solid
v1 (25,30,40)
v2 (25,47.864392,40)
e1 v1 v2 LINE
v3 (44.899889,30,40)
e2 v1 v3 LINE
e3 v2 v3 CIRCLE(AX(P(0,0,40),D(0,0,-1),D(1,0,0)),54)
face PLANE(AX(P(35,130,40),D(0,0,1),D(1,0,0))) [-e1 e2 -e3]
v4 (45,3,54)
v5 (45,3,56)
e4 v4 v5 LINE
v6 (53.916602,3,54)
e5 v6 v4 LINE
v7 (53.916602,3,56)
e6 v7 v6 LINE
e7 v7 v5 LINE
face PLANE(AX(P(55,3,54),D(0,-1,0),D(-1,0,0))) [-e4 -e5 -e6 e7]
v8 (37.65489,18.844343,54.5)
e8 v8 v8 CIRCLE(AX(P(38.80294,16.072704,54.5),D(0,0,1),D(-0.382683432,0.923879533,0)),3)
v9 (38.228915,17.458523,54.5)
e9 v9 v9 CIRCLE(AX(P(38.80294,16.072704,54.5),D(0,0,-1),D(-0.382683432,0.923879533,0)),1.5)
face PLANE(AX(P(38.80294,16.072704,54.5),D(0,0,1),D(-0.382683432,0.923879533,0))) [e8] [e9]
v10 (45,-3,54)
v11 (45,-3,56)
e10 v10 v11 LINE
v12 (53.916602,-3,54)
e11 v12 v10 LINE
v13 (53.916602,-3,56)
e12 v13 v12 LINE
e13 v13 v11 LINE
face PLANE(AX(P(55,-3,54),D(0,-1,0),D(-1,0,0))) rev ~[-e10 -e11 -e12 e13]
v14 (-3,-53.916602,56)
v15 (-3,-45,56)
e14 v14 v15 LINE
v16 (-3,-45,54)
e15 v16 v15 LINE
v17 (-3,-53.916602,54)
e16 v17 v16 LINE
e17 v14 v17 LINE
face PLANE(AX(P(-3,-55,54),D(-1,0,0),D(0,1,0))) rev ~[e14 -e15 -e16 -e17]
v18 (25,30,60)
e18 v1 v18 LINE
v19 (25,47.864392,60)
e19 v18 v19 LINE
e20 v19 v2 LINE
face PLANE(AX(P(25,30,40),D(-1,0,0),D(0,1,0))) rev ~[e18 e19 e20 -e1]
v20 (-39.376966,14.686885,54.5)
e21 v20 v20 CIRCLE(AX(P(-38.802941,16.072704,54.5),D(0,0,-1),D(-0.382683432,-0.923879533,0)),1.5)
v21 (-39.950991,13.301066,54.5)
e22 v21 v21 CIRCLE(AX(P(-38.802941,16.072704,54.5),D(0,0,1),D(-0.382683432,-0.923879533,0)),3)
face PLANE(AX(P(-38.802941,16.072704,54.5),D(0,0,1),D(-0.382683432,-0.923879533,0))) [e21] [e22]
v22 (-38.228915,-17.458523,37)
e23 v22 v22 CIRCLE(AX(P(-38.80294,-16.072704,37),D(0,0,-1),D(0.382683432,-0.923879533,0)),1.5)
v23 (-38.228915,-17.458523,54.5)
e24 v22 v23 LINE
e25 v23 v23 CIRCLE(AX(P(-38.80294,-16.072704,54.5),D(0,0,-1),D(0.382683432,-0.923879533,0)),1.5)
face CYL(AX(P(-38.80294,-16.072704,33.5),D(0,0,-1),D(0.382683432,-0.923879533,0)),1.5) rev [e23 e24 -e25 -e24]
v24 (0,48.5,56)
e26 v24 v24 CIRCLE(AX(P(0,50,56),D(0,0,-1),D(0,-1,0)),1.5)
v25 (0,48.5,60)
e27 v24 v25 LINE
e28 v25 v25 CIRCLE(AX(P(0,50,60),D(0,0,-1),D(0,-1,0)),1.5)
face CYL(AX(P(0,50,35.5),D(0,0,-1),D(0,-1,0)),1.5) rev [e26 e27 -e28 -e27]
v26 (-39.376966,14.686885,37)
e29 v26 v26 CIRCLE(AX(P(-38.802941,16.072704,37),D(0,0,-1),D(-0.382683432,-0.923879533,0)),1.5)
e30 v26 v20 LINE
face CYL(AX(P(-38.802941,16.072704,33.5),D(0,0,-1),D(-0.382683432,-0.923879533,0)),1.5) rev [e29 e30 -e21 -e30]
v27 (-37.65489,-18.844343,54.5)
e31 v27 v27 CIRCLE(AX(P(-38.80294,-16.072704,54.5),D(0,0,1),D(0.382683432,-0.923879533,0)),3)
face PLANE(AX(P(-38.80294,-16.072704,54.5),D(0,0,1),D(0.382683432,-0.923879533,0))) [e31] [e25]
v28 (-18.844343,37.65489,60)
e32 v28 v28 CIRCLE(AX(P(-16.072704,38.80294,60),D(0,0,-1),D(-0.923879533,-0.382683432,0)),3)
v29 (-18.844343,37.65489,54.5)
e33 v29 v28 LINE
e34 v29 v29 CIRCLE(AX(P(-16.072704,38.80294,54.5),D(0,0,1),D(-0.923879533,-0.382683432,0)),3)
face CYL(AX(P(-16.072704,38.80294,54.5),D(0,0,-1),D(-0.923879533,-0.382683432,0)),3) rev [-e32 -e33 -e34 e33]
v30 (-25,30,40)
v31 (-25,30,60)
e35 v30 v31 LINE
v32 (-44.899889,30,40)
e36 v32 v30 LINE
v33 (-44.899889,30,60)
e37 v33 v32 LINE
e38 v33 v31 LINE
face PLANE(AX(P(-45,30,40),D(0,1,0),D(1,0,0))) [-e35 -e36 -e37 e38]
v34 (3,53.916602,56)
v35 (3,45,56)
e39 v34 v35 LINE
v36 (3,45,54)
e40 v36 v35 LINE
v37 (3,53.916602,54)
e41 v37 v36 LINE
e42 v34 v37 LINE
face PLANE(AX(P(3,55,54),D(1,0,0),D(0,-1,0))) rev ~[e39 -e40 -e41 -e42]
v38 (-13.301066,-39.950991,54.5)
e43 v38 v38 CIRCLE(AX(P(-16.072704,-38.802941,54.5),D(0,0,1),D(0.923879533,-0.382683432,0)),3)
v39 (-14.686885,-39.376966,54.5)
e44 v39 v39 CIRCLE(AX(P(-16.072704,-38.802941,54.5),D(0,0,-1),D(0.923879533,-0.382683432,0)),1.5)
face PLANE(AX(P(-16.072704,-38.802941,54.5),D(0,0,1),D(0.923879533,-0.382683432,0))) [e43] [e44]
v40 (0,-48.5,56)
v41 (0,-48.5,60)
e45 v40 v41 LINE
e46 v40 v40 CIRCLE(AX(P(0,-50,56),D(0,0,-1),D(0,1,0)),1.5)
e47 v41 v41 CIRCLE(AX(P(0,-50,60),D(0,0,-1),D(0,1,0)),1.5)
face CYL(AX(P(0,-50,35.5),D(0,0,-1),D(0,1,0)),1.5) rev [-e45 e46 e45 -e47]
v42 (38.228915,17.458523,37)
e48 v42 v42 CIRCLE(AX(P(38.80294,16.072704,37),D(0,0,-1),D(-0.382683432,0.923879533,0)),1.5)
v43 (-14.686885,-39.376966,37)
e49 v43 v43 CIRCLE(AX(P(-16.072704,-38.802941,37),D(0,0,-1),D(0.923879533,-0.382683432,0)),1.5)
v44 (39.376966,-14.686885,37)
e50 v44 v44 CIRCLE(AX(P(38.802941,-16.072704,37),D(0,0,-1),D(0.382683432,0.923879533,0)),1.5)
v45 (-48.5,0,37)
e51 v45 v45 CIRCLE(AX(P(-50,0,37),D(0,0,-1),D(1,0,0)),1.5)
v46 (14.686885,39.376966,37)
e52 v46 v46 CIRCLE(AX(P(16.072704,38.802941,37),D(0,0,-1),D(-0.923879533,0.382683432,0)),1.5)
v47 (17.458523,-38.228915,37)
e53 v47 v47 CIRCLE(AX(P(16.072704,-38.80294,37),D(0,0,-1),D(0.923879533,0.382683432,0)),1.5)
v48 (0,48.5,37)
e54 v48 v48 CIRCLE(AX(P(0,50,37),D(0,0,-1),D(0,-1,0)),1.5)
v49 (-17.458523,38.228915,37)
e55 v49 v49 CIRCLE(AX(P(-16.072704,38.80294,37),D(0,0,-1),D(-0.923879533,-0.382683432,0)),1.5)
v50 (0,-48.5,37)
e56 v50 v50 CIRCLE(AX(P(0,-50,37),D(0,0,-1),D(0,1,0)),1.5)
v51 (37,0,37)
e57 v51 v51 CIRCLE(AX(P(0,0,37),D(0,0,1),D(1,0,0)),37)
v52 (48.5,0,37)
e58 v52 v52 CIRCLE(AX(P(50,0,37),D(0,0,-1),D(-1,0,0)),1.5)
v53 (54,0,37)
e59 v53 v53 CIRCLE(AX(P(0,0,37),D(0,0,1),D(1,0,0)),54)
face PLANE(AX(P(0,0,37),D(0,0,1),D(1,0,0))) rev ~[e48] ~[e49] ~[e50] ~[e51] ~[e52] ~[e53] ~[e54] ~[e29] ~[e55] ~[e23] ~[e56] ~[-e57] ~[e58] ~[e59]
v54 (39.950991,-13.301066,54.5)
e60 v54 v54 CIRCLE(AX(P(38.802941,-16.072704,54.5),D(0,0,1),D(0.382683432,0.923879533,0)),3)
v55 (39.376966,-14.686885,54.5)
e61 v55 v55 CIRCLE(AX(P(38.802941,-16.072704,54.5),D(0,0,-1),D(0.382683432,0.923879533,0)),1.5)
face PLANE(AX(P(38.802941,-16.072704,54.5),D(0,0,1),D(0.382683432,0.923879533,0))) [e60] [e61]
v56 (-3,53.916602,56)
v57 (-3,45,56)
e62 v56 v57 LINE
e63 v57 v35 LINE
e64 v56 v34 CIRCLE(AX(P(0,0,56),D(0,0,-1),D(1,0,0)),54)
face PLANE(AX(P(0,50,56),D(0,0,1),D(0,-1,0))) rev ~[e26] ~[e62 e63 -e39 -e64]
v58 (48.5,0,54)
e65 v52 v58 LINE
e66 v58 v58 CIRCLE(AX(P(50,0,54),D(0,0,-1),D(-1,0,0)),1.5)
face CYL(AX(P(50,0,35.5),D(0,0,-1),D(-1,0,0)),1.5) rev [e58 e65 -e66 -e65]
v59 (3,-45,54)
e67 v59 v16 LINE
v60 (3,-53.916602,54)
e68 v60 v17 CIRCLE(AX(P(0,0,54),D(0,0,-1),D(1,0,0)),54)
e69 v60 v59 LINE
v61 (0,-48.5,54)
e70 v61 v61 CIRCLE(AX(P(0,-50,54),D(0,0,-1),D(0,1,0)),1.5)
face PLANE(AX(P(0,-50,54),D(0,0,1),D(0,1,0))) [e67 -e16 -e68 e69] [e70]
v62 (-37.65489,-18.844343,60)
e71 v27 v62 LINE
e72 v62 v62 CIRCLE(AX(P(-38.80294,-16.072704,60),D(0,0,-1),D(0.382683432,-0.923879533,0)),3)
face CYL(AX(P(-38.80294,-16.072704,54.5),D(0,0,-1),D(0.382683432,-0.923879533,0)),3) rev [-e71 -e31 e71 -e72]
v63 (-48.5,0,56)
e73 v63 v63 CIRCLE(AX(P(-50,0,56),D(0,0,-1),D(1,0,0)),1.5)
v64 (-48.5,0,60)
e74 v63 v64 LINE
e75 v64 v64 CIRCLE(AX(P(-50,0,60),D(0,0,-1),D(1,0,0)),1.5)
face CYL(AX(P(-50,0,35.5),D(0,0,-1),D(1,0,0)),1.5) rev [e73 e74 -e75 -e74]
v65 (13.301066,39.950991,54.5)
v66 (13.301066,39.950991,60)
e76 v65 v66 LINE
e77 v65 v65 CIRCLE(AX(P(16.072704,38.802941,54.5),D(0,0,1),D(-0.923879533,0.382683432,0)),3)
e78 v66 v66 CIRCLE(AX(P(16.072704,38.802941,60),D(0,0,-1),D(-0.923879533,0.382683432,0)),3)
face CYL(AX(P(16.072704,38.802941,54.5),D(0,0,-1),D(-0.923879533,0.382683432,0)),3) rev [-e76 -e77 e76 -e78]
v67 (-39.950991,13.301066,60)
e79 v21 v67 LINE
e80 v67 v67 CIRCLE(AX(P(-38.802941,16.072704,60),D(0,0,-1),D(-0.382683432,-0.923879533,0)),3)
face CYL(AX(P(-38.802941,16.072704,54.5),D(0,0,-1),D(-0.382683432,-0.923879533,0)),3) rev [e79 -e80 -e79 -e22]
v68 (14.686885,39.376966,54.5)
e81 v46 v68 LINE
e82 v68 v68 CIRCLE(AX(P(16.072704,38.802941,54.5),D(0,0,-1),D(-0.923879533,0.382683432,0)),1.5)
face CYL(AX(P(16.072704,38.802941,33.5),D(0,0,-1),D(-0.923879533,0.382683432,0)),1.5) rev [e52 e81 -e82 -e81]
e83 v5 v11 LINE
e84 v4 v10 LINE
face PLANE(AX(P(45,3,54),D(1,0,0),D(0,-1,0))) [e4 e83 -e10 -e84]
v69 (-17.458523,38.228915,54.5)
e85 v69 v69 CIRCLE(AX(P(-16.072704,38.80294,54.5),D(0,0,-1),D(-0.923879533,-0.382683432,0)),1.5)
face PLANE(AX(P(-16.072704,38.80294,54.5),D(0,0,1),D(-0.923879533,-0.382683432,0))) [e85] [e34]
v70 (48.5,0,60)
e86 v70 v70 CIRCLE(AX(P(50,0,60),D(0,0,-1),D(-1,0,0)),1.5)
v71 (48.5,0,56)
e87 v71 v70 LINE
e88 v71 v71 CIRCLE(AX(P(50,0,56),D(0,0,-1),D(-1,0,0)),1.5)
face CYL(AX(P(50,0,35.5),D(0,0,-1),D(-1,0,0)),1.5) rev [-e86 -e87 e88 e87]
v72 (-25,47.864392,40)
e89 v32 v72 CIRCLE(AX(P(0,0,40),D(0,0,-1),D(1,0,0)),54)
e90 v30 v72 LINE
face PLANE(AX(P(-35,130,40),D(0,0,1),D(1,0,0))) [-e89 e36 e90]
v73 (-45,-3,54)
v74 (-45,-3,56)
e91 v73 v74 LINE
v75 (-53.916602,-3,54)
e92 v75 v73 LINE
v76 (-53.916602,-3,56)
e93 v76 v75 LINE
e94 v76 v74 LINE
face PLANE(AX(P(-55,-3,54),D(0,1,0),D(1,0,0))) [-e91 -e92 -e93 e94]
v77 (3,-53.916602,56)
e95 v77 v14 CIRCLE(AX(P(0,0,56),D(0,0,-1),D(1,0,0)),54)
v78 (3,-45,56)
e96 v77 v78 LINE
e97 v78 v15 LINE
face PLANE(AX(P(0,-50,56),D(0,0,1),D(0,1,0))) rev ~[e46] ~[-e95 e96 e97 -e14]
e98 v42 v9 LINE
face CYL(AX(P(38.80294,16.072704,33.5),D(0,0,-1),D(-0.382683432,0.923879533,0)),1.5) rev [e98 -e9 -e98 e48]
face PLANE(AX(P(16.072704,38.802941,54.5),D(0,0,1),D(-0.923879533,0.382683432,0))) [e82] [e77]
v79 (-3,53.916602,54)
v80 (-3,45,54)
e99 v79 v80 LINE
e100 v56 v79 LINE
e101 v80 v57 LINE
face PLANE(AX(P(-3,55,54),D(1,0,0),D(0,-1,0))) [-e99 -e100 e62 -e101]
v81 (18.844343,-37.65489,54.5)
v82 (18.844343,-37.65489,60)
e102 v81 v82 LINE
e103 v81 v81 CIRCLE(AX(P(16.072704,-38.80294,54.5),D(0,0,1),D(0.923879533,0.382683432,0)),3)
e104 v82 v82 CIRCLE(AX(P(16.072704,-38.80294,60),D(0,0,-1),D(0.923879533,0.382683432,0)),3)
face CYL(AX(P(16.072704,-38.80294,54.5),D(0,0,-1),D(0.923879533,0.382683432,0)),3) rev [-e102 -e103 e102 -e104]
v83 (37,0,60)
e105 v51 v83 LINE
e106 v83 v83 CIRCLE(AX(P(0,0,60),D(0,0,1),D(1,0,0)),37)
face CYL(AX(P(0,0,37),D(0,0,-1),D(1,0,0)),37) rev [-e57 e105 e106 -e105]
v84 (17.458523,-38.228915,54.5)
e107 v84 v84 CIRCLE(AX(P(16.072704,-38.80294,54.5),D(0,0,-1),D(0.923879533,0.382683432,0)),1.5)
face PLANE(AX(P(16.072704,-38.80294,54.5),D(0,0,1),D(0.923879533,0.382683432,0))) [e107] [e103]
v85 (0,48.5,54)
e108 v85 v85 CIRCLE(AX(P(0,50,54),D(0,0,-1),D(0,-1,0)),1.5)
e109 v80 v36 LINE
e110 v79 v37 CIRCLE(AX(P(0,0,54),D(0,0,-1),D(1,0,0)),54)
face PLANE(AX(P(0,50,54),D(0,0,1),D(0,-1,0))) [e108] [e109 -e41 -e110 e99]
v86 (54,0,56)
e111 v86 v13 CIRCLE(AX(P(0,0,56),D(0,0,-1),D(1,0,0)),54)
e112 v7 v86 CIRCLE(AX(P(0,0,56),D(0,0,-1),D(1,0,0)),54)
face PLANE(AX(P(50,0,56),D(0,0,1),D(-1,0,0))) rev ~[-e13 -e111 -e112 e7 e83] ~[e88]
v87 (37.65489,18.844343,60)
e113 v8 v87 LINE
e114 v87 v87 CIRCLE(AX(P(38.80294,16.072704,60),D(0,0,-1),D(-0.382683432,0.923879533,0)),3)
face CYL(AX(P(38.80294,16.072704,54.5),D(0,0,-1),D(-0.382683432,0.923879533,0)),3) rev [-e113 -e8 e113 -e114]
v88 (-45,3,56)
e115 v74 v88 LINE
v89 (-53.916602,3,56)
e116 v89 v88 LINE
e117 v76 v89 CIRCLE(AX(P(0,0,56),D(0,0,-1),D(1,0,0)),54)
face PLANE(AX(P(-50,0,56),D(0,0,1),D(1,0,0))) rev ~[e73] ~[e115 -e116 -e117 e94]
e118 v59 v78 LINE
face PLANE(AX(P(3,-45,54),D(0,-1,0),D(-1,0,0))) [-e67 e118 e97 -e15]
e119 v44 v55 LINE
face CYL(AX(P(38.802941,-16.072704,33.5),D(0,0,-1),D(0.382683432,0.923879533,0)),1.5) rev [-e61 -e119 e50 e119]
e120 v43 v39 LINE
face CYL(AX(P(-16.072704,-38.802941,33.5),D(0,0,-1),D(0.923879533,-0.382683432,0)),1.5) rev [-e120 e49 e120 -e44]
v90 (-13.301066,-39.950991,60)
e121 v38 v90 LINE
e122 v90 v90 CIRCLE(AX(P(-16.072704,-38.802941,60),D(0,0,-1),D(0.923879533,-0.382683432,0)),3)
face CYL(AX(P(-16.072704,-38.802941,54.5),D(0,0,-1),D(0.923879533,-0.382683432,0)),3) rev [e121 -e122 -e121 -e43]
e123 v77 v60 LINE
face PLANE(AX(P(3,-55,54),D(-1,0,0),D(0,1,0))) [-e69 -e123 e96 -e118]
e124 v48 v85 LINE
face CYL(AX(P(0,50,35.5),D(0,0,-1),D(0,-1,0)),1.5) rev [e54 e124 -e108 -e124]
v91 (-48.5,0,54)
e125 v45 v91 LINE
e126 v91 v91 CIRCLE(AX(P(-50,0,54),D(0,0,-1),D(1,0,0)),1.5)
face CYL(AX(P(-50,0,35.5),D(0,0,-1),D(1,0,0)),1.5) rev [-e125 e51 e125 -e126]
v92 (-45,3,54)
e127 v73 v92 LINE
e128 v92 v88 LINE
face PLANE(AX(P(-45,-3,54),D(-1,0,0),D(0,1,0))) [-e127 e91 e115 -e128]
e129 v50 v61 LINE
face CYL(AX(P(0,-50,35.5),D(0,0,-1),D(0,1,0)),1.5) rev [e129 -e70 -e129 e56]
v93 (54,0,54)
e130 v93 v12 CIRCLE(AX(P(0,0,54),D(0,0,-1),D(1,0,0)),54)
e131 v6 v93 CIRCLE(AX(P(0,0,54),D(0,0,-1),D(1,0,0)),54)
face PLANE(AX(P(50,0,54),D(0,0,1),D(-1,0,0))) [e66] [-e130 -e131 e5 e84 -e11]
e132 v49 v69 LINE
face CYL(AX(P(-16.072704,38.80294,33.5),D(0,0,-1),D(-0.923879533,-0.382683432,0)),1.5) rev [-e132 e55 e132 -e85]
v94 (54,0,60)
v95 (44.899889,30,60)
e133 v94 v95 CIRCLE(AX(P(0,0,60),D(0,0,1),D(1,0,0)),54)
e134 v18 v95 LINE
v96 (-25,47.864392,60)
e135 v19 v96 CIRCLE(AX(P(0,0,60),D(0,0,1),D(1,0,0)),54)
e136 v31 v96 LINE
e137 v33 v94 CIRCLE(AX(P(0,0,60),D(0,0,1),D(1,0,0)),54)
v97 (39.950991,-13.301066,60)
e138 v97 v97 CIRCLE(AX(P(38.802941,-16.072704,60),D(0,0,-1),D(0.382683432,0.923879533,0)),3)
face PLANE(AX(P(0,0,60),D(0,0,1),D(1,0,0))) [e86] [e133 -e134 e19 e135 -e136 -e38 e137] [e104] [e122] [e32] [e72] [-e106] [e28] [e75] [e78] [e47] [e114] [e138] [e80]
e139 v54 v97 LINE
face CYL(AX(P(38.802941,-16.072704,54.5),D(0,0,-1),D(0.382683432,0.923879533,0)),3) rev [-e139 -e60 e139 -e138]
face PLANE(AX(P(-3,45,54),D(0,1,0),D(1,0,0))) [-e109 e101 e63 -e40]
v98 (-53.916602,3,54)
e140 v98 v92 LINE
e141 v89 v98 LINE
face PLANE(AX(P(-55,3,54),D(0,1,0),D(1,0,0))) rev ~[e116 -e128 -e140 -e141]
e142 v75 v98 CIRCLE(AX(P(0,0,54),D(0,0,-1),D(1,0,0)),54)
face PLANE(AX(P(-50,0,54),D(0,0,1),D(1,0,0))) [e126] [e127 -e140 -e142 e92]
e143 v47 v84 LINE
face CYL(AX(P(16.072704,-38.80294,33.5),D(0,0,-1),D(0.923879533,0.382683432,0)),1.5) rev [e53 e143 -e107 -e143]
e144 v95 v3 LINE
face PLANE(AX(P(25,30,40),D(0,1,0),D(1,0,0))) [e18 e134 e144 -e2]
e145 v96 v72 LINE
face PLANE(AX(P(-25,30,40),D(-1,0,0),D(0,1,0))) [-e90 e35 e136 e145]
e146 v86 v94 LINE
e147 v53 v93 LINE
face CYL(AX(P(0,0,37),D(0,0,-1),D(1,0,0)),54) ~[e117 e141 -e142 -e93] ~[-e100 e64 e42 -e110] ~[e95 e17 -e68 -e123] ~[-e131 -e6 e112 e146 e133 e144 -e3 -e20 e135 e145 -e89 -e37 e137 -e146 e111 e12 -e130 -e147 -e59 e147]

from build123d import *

# Parameters (mm, degrees)
BOX458_W                    = 10
BOX458_H                    = 6
BOX458_DEPTH                = 2
BOX457_W                    = 10
BOX457_H                    = 6
BOX457_DEPTH                = 2
BOX459_W                    = 10
BOX459_H                    = 6
BOX459_DEPTH                = 2
BOX460_W                    = 10
BOX460_H                    = 6
BOX460_DEPTH                = 2
CYLINDER959_R               = 1.5
CYLINDER959_DEPTH           = 30
CYLINDER961_R               = 1.5
CYLINDER961_DEPTH           = 30
CYLINDER962_R               = 1.5
CYLINDER962_DEPTH           = 30
CYLINDER960_R               = 1.5
CYLINDER960_DEPTH           = 30
CYLINDER943_R               = 3
CYLINDER943_DEPTH           = 6
CYLINDER943_PLACEMENT_ANGLE = 45
CYLINDER945_R               = 3
CYLINDER945_DEPTH           = 6
CYLINDER947_R               = 3
CYLINDER947_DEPTH           = 6
CYLINDER947_PLACEMENT_ANGLE = 135
CYLINDER942_R               = 3
CYLINDER942_DEPTH           = 6
CYLINDER944_R               = 3
CYLINDER944_DEPTH           = 6
CYLINDER944_PLACEMENT_ANGLE = 225
CYLINDER946_R               = 3
CYLINDER946_DEPTH           = 6
CYLINDER941_R               = 3
CYLINDER941_DEPTH           = 6
CYLINDER941_PLACEMENT_ANGLE = 45
CYLINDER940_R               = 3
CYLINDER940_DEPTH           = 6
COMPOUND804_PLACEMENT_ANGLE = 22.5
CYLINDER934_R               = 1.5
CYLINDER934_DEPTH           = 40
CYLINDER934_PLACEMENT_ANGLE = 45
CYLINDER938_R               = 1.5
CYLINDER938_DEPTH           = 40
CYLINDER933_R               = 1.5
CYLINDER933_DEPTH           = 40
CYLINDER933_PLACEMENT_ANGLE = 135
CYLINDER935_R               = 1.5
CYLINDER935_DEPTH           = 40
CYLINDER939_R               = 1.5
CYLINDER939_DEPTH           = 40
CYLINDER939_PLACEMENT_ANGLE = 225
CYLINDER936_R               = 1.5
CYLINDER936_DEPTH           = 40
CYLINDER932_R               = 1.5
CYLINDER932_DEPTH           = 40
CYLINDER932_PLACEMENT_ANGLE = 45
CYLINDER937_R               = 1.5
CYLINDER937_DEPTH           = 40
COMPOUND803_PLACEMENT_ANGLE = 22.5
BOX435_W                    = 20
BOX435_H                    = 200
BOX435_DEPTH                = 20
BOX436_W                    = 20
BOX436_H                    = 200
BOX436_DEPTH                = 20
TUBE041_R                   = 54
TUBE041_R_2                 = 37
TUBE041_DEPTH               = 23


with BuildPart() as krychle458:
    # Box458 → Box458 (new body)
    with BuildSketch(Plane(origin=(55, 3, 54), x_dir=(-1, 0, 0), z_dir=(0, 0, 1))):
        with Locations((5, 3)):
            Rectangle(BOX458_W, BOX458_H)
    extrude(amount=BOX458_DEPTH)


with BuildPart() as krychle457:
    # Box457 → Box457 (new body)
    with BuildSketch(Plane(origin=(3, -55, 54), x_dir=(0, 1, 0), z_dir=(0, 0, 1))):
        with Locations((5, 3)):
            Rectangle(BOX457_W, BOX457_H)
    extrude(amount=BOX457_DEPTH)


with BuildPart() as krychle459:
    # Box459 → Box459 (new body)
    with BuildSketch(Plane(origin=(-55, -3, 54), x_dir=(1, 0, 0), z_dir=(0, 0, 1))):
        with Locations((5, 3)):
            Rectangle(BOX459_W, BOX459_H)
    extrude(amount=BOX459_DEPTH)


with BuildPart() as compound815:
    # Box460 → Box460 (new body)
    with BuildSketch(Plane(origin=(-3, 55, 54), x_dir=(0, -1, 0), z_dir=(0, 0, 1))):
        with Locations((5, 3)):
            Rectangle(BOX460_W, BOX460_H)
    extrude(amount=BOX460_DEPTH)

    # Compound815: union Krychle458, Krychle457, Krychle459
    add(krychle458.part)
    add(krychle457.part)
    add(krychle459.part)


with BuildPart() as v_lec959:
    # Cylinder959 → Cylinder959 (new body)
    with BuildSketch(Plane(origin=(50, 0, 35.5), x_dir=(-1, 0, 0), z_dir=(0, 0, 1))):
        Circle(CYLINDER959_R)
    extrude(amount=CYLINDER959_DEPTH)


with BuildPart() as v_lec961:
    # Cylinder961 → Cylinder961 (new body)
    with BuildSketch(Plane(origin=(0, -50, 35.5), x_dir=(0, 1, 0), z_dir=(0, 0, 1))):
        Circle(CYLINDER961_R)
    extrude(amount=CYLINDER961_DEPTH)


with BuildPart() as v_lec962:
    # Cylinder962 → Cylinder962 (new body)
    with BuildSketch(Plane(origin=(-50, 0, 35.5), x_dir=(1, 0, 0), z_dir=(0, 0, 1))):
        Circle(CYLINDER962_R)
    extrude(amount=CYLINDER962_DEPTH)


with BuildPart() as compound814:
    # Cylinder960 → Cylinder960 (new body)
    with BuildSketch(Plane(origin=(0, 50, 35.5), x_dir=(0, -1, 0), z_dir=(0, 0, 1))):
        Circle(CYLINDER960_R)
    extrude(amount=CYLINDER960_DEPTH)

    # Compound814: union Válec959, Válec961, Válec962
    add(v_lec959.part)
    add(v_lec961.part)
    add(v_lec962.part)


with BuildPart() as v_lec943:
    # Cylinder943 → Cylinder943 (new body)
    with BuildSketch(Plane.XY):
        Circle(CYLINDER943_R)
    extrude(amount=CYLINDER943_DEPTH)


with BuildPart() as v_lec943_1:
    # Cylinder943 placement: moved
    add(v_lec943.part.moved(Location((29.698485, -29.698485, 33.5))).rotate(Axis((29.698485, -29.698485, 33.5), (0, 0, 1)), CYLINDER943_PLACEMENT_ANGLE))


with BuildPart() as v_lec945:
    # Cylinder945 → Cylinder945 (new body)
    with BuildSketch(Plane(origin=(42, 0, 33.5), x_dir=(0, 1, 0), z_dir=(0, 0, 1))):
        Circle(CYLINDER945_R)
    extrude(amount=CYLINDER945_DEPTH)


with BuildPart() as v_lec947:
    # Cylinder947 → Cylinder947 (new body)
    with BuildSketch(Plane.XY):
        Circle(CYLINDER947_R)
    extrude(amount=CYLINDER947_DEPTH)


with BuildPart() as v_lec947_1:
    # Cylinder947 placement: moved
    add(v_lec947.part.moved(Location((29.698485, 29.698485, 33.5))).rotate(Axis((29.698485, 29.698485, 33.5), (0, 0, 1)), CYLINDER947_PLACEMENT_ANGLE))


with BuildPart() as v_lec942:
    # Cylinder942 → Cylinder942 (new body)
    with BuildSketch(Plane(origin=(0, 42, 33.5), x_dir=(-1, 0, 0), z_dir=(0, 0, 1))):
        Circle(CYLINDER942_R)
    extrude(amount=CYLINDER942_DEPTH)


with BuildPart() as v_lec944:
    # Cylinder944 → Cylinder944 (new body)
    with BuildSketch(Plane.XY):
        Circle(CYLINDER944_R)
    extrude(amount=CYLINDER944_DEPTH)


with BuildPart() as v_lec944_1:
    # Cylinder944 placement: moved
    add(v_lec944.part.moved(Location((-29.698485, 29.698485, 33.5))).rotate(Axis((-29.698485, 29.698485, 33.5), (0, 0, 1)), CYLINDER944_PLACEMENT_ANGLE))


with BuildPart() as v_lec946:
    # Cylinder946 → Cylinder946 (new body)
    with BuildSketch(Plane(origin=(-42, 0, 33.5), x_dir=(0, -1, 0), z_dir=(0, 0, 1))):
        Circle(CYLINDER946_R)
    extrude(amount=CYLINDER946_DEPTH)


with BuildPart() as v_lec941:
    # Cylinder941 → Cylinder941 (new body)
    with BuildSketch(Plane.XY):
        Circle(CYLINDER941_R)
    extrude(amount=CYLINDER941_DEPTH)


with BuildPart() as v_lec941_1:
    # Cylinder941 placement: moved
    add(v_lec941.part.moved(Location((-29.698485, -29.698485, 33.5))).rotate(Axis((-29.698485, -29.698485, 33.5), (0, 0, -1)), CYLINDER941_PLACEMENT_ANGLE))


with BuildPart() as compound804:
    # Cylinder940 → Cylinder940 (new body)
    with BuildSketch(Plane(origin=(0, -42, 33.5), x_dir=(1, 0, 0), z_dir=(0, 0, 1))):
        Circle(CYLINDER940_R)
    extrude(amount=CYLINDER940_DEPTH)

    # Compound804: union Válec943, Válec945, Válec947, Válec942, Válec944, Válec946, Válec941
    add(v_lec943_1.part)
    add(v_lec945.part)
    add(v_lec947_1.part)
    add(v_lec942.part)
    add(v_lec944_1.part)
    add(v_lec946.part)
    add(v_lec941_1.part)


with BuildPart() as compound804_1:
    # Compound804 placement: moved
    add(compound804.part.moved(Location((0, 0, 21))).rotate(Axis((0, 0, 21), (0, 0, 1)), COMPOUND804_PLACEMENT_ANGLE))


with BuildPart() as v_lec934:
    # Cylinder934 → Cylinder934 (new body)
    with BuildSketch(Plane.XY):
        Circle(CYLINDER934_R)
    extrude(amount=CYLINDER934_DEPTH)


with BuildPart() as v_lec934_1:
    # Cylinder934 placement: moved
    add(v_lec934.part.moved(Location((29.698485, -29.698485, 33.5))).rotate(Axis((29.698485, -29.698485, 33.5), (0, 0, 1)), CYLINDER934_PLACEMENT_ANGLE))


with BuildPart() as v_lec938:
    # Cylinder938 → Cylinder938 (new body)
    with BuildSketch(Plane(origin=(42, 0, 33.5), x_dir=(0, 1, 0), z_dir=(0, 0, 1))):
        Circle(CYLINDER938_R)
    extrude(amount=CYLINDER938_DEPTH)


with BuildPart() as v_lec933:
    # Cylinder933 → Cylinder933 (new body)
    with BuildSketch(Plane.XY):
        Circle(CYLINDER933_R)
    extrude(amount=CYLINDER933_DEPTH)


with BuildPart() as v_lec933_1:
    # Cylinder933 placement: moved
    add(v_lec933.part.moved(Location((29.698485, 29.698485, 33.5))).rotate(Axis((29.698485, 29.698485, 33.5), (0, 0, 1)), CYLINDER933_PLACEMENT_ANGLE))


with BuildPart() as v_lec935:
    # Cylinder935 → Cylinder935 (new body)
    with BuildSketch(Plane(origin=(0, 42, 33.5), x_dir=(-1, 0, 0), z_dir=(0, 0, 1))):
        Circle(CYLINDER935_R)
    extrude(amount=CYLINDER935_DEPTH)


with BuildPart() as v_lec939:
    # Cylinder939 → Cylinder939 (new body)
    with BuildSketch(Plane.XY):
        Circle(CYLINDER939_R)
    extrude(amount=CYLINDER939_DEPTH)


with BuildPart() as v_lec939_1:
    # Cylinder939 placement: moved
    add(v_lec939.part.moved(Location((-29.698485, 29.698485, 33.5))).rotate(Axis((-29.698485, 29.698485, 33.5), (0, 0, 1)), CYLINDER939_PLACEMENT_ANGLE))


with BuildPart() as v_lec936:
    # Cylinder936 → Cylinder936 (new body)
    with BuildSketch(Plane(origin=(-42, 0, 33.5), x_dir=(0, -1, 0), z_dir=(0, 0, 1))):
        Circle(CYLINDER936_R)
    extrude(amount=CYLINDER936_DEPTH)


with BuildPart() as v_lec932:
    # Cylinder932 → Cylinder932 (new body)
    with BuildSketch(Plane.XY):
        Circle(CYLINDER932_R)
    extrude(amount=CYLINDER932_DEPTH)


with BuildPart() as v_lec932_1:
    # Cylinder932 placement: moved
    add(v_lec932.part.moved(Location((-29.698485, -29.698485, 33.5))).rotate(Axis((-29.698485, -29.698485, 33.5), (0, 0, -1)), CYLINDER932_PLACEMENT_ANGLE))


with BuildPart() as compound803:
    # Cylinder937 → Cylinder937 (new body)
    with BuildSketch(Plane(origin=(0, -42, 33.5), x_dir=(1, 0, 0), z_dir=(0, 0, 1))):
        Circle(CYLINDER937_R)
    extrude(amount=CYLINDER937_DEPTH)

    # Compound803: union Válec934, Válec938, Válec933, Válec935, Válec939, Válec936, Válec932
    add(v_lec934_1.part)
    add(v_lec938.part)
    add(v_lec933_1.part)
    add(v_lec935.part)
    add(v_lec939_1.part)
    add(v_lec936.part)
    add(v_lec932_1.part)


with BuildPart() as compound803_1:
    # Compound803 placement: moved
    add(compound803.part.rotate(Axis((0, 0, 0), (0, 0, 1)), COMPOUND803_PLACEMENT_ANGLE))


with BuildPart() as krychle435:
    # Box435 → Box435 (new body)
    with BuildSketch(Plane(origin=(-45, 28, 8), x_dir=(1, 0, 0), z_dir=(0, 0, 1))):
        with Locations((10, 100)):
            Rectangle(BOX435_W, BOX435_H)
    extrude(amount=BOX435_DEPTH)


with BuildPart() as compound795:
    # Box436 → Box436 (new body)
    with BuildSketch(Plane(origin=(25, 28, 8), x_dir=(1, 0, 0), z_dir=(0, 0, 1))):
        with Locations((10, 100)):
            Rectangle(BOX436_W, BOX436_H)
    extrude(amount=BOX436_DEPTH)

    # Compound795: union Krychle435
    add(krychle435.part)


with BuildPart() as compound795_1:
    # Compound795 placement: moved
    add(compound795.part.moved(Location((0, 2, 32))))


with BuildPart() as cut407:
    # Tube041 → Tube041 (new body)
    with BuildSketch(Plane.XY.offset(37)):
        Circle(TUBE041_R)
        Circle(TUBE041_R_2, mode=Mode.SUBTRACT)
    extrude(amount=TUBE041_DEPTH)

    # Cut393: cut Compound795
    add(compound795_1.part, mode=Mode.SUBTRACT)

    # Cut395: cut Compound803
    add(compound803_1.part, mode=Mode.SUBTRACT)

    # Cut396: cut Compound804
    add(compound804_1.part, mode=Mode.SUBTRACT)

    # Cut406: cut Compound814
    add(compound814.part, mode=Mode.SUBTRACT)

    # Cut407: cut Compound815
    add(compound815.part, mode=Mode.SUBTRACT)


solid = cut407.part
